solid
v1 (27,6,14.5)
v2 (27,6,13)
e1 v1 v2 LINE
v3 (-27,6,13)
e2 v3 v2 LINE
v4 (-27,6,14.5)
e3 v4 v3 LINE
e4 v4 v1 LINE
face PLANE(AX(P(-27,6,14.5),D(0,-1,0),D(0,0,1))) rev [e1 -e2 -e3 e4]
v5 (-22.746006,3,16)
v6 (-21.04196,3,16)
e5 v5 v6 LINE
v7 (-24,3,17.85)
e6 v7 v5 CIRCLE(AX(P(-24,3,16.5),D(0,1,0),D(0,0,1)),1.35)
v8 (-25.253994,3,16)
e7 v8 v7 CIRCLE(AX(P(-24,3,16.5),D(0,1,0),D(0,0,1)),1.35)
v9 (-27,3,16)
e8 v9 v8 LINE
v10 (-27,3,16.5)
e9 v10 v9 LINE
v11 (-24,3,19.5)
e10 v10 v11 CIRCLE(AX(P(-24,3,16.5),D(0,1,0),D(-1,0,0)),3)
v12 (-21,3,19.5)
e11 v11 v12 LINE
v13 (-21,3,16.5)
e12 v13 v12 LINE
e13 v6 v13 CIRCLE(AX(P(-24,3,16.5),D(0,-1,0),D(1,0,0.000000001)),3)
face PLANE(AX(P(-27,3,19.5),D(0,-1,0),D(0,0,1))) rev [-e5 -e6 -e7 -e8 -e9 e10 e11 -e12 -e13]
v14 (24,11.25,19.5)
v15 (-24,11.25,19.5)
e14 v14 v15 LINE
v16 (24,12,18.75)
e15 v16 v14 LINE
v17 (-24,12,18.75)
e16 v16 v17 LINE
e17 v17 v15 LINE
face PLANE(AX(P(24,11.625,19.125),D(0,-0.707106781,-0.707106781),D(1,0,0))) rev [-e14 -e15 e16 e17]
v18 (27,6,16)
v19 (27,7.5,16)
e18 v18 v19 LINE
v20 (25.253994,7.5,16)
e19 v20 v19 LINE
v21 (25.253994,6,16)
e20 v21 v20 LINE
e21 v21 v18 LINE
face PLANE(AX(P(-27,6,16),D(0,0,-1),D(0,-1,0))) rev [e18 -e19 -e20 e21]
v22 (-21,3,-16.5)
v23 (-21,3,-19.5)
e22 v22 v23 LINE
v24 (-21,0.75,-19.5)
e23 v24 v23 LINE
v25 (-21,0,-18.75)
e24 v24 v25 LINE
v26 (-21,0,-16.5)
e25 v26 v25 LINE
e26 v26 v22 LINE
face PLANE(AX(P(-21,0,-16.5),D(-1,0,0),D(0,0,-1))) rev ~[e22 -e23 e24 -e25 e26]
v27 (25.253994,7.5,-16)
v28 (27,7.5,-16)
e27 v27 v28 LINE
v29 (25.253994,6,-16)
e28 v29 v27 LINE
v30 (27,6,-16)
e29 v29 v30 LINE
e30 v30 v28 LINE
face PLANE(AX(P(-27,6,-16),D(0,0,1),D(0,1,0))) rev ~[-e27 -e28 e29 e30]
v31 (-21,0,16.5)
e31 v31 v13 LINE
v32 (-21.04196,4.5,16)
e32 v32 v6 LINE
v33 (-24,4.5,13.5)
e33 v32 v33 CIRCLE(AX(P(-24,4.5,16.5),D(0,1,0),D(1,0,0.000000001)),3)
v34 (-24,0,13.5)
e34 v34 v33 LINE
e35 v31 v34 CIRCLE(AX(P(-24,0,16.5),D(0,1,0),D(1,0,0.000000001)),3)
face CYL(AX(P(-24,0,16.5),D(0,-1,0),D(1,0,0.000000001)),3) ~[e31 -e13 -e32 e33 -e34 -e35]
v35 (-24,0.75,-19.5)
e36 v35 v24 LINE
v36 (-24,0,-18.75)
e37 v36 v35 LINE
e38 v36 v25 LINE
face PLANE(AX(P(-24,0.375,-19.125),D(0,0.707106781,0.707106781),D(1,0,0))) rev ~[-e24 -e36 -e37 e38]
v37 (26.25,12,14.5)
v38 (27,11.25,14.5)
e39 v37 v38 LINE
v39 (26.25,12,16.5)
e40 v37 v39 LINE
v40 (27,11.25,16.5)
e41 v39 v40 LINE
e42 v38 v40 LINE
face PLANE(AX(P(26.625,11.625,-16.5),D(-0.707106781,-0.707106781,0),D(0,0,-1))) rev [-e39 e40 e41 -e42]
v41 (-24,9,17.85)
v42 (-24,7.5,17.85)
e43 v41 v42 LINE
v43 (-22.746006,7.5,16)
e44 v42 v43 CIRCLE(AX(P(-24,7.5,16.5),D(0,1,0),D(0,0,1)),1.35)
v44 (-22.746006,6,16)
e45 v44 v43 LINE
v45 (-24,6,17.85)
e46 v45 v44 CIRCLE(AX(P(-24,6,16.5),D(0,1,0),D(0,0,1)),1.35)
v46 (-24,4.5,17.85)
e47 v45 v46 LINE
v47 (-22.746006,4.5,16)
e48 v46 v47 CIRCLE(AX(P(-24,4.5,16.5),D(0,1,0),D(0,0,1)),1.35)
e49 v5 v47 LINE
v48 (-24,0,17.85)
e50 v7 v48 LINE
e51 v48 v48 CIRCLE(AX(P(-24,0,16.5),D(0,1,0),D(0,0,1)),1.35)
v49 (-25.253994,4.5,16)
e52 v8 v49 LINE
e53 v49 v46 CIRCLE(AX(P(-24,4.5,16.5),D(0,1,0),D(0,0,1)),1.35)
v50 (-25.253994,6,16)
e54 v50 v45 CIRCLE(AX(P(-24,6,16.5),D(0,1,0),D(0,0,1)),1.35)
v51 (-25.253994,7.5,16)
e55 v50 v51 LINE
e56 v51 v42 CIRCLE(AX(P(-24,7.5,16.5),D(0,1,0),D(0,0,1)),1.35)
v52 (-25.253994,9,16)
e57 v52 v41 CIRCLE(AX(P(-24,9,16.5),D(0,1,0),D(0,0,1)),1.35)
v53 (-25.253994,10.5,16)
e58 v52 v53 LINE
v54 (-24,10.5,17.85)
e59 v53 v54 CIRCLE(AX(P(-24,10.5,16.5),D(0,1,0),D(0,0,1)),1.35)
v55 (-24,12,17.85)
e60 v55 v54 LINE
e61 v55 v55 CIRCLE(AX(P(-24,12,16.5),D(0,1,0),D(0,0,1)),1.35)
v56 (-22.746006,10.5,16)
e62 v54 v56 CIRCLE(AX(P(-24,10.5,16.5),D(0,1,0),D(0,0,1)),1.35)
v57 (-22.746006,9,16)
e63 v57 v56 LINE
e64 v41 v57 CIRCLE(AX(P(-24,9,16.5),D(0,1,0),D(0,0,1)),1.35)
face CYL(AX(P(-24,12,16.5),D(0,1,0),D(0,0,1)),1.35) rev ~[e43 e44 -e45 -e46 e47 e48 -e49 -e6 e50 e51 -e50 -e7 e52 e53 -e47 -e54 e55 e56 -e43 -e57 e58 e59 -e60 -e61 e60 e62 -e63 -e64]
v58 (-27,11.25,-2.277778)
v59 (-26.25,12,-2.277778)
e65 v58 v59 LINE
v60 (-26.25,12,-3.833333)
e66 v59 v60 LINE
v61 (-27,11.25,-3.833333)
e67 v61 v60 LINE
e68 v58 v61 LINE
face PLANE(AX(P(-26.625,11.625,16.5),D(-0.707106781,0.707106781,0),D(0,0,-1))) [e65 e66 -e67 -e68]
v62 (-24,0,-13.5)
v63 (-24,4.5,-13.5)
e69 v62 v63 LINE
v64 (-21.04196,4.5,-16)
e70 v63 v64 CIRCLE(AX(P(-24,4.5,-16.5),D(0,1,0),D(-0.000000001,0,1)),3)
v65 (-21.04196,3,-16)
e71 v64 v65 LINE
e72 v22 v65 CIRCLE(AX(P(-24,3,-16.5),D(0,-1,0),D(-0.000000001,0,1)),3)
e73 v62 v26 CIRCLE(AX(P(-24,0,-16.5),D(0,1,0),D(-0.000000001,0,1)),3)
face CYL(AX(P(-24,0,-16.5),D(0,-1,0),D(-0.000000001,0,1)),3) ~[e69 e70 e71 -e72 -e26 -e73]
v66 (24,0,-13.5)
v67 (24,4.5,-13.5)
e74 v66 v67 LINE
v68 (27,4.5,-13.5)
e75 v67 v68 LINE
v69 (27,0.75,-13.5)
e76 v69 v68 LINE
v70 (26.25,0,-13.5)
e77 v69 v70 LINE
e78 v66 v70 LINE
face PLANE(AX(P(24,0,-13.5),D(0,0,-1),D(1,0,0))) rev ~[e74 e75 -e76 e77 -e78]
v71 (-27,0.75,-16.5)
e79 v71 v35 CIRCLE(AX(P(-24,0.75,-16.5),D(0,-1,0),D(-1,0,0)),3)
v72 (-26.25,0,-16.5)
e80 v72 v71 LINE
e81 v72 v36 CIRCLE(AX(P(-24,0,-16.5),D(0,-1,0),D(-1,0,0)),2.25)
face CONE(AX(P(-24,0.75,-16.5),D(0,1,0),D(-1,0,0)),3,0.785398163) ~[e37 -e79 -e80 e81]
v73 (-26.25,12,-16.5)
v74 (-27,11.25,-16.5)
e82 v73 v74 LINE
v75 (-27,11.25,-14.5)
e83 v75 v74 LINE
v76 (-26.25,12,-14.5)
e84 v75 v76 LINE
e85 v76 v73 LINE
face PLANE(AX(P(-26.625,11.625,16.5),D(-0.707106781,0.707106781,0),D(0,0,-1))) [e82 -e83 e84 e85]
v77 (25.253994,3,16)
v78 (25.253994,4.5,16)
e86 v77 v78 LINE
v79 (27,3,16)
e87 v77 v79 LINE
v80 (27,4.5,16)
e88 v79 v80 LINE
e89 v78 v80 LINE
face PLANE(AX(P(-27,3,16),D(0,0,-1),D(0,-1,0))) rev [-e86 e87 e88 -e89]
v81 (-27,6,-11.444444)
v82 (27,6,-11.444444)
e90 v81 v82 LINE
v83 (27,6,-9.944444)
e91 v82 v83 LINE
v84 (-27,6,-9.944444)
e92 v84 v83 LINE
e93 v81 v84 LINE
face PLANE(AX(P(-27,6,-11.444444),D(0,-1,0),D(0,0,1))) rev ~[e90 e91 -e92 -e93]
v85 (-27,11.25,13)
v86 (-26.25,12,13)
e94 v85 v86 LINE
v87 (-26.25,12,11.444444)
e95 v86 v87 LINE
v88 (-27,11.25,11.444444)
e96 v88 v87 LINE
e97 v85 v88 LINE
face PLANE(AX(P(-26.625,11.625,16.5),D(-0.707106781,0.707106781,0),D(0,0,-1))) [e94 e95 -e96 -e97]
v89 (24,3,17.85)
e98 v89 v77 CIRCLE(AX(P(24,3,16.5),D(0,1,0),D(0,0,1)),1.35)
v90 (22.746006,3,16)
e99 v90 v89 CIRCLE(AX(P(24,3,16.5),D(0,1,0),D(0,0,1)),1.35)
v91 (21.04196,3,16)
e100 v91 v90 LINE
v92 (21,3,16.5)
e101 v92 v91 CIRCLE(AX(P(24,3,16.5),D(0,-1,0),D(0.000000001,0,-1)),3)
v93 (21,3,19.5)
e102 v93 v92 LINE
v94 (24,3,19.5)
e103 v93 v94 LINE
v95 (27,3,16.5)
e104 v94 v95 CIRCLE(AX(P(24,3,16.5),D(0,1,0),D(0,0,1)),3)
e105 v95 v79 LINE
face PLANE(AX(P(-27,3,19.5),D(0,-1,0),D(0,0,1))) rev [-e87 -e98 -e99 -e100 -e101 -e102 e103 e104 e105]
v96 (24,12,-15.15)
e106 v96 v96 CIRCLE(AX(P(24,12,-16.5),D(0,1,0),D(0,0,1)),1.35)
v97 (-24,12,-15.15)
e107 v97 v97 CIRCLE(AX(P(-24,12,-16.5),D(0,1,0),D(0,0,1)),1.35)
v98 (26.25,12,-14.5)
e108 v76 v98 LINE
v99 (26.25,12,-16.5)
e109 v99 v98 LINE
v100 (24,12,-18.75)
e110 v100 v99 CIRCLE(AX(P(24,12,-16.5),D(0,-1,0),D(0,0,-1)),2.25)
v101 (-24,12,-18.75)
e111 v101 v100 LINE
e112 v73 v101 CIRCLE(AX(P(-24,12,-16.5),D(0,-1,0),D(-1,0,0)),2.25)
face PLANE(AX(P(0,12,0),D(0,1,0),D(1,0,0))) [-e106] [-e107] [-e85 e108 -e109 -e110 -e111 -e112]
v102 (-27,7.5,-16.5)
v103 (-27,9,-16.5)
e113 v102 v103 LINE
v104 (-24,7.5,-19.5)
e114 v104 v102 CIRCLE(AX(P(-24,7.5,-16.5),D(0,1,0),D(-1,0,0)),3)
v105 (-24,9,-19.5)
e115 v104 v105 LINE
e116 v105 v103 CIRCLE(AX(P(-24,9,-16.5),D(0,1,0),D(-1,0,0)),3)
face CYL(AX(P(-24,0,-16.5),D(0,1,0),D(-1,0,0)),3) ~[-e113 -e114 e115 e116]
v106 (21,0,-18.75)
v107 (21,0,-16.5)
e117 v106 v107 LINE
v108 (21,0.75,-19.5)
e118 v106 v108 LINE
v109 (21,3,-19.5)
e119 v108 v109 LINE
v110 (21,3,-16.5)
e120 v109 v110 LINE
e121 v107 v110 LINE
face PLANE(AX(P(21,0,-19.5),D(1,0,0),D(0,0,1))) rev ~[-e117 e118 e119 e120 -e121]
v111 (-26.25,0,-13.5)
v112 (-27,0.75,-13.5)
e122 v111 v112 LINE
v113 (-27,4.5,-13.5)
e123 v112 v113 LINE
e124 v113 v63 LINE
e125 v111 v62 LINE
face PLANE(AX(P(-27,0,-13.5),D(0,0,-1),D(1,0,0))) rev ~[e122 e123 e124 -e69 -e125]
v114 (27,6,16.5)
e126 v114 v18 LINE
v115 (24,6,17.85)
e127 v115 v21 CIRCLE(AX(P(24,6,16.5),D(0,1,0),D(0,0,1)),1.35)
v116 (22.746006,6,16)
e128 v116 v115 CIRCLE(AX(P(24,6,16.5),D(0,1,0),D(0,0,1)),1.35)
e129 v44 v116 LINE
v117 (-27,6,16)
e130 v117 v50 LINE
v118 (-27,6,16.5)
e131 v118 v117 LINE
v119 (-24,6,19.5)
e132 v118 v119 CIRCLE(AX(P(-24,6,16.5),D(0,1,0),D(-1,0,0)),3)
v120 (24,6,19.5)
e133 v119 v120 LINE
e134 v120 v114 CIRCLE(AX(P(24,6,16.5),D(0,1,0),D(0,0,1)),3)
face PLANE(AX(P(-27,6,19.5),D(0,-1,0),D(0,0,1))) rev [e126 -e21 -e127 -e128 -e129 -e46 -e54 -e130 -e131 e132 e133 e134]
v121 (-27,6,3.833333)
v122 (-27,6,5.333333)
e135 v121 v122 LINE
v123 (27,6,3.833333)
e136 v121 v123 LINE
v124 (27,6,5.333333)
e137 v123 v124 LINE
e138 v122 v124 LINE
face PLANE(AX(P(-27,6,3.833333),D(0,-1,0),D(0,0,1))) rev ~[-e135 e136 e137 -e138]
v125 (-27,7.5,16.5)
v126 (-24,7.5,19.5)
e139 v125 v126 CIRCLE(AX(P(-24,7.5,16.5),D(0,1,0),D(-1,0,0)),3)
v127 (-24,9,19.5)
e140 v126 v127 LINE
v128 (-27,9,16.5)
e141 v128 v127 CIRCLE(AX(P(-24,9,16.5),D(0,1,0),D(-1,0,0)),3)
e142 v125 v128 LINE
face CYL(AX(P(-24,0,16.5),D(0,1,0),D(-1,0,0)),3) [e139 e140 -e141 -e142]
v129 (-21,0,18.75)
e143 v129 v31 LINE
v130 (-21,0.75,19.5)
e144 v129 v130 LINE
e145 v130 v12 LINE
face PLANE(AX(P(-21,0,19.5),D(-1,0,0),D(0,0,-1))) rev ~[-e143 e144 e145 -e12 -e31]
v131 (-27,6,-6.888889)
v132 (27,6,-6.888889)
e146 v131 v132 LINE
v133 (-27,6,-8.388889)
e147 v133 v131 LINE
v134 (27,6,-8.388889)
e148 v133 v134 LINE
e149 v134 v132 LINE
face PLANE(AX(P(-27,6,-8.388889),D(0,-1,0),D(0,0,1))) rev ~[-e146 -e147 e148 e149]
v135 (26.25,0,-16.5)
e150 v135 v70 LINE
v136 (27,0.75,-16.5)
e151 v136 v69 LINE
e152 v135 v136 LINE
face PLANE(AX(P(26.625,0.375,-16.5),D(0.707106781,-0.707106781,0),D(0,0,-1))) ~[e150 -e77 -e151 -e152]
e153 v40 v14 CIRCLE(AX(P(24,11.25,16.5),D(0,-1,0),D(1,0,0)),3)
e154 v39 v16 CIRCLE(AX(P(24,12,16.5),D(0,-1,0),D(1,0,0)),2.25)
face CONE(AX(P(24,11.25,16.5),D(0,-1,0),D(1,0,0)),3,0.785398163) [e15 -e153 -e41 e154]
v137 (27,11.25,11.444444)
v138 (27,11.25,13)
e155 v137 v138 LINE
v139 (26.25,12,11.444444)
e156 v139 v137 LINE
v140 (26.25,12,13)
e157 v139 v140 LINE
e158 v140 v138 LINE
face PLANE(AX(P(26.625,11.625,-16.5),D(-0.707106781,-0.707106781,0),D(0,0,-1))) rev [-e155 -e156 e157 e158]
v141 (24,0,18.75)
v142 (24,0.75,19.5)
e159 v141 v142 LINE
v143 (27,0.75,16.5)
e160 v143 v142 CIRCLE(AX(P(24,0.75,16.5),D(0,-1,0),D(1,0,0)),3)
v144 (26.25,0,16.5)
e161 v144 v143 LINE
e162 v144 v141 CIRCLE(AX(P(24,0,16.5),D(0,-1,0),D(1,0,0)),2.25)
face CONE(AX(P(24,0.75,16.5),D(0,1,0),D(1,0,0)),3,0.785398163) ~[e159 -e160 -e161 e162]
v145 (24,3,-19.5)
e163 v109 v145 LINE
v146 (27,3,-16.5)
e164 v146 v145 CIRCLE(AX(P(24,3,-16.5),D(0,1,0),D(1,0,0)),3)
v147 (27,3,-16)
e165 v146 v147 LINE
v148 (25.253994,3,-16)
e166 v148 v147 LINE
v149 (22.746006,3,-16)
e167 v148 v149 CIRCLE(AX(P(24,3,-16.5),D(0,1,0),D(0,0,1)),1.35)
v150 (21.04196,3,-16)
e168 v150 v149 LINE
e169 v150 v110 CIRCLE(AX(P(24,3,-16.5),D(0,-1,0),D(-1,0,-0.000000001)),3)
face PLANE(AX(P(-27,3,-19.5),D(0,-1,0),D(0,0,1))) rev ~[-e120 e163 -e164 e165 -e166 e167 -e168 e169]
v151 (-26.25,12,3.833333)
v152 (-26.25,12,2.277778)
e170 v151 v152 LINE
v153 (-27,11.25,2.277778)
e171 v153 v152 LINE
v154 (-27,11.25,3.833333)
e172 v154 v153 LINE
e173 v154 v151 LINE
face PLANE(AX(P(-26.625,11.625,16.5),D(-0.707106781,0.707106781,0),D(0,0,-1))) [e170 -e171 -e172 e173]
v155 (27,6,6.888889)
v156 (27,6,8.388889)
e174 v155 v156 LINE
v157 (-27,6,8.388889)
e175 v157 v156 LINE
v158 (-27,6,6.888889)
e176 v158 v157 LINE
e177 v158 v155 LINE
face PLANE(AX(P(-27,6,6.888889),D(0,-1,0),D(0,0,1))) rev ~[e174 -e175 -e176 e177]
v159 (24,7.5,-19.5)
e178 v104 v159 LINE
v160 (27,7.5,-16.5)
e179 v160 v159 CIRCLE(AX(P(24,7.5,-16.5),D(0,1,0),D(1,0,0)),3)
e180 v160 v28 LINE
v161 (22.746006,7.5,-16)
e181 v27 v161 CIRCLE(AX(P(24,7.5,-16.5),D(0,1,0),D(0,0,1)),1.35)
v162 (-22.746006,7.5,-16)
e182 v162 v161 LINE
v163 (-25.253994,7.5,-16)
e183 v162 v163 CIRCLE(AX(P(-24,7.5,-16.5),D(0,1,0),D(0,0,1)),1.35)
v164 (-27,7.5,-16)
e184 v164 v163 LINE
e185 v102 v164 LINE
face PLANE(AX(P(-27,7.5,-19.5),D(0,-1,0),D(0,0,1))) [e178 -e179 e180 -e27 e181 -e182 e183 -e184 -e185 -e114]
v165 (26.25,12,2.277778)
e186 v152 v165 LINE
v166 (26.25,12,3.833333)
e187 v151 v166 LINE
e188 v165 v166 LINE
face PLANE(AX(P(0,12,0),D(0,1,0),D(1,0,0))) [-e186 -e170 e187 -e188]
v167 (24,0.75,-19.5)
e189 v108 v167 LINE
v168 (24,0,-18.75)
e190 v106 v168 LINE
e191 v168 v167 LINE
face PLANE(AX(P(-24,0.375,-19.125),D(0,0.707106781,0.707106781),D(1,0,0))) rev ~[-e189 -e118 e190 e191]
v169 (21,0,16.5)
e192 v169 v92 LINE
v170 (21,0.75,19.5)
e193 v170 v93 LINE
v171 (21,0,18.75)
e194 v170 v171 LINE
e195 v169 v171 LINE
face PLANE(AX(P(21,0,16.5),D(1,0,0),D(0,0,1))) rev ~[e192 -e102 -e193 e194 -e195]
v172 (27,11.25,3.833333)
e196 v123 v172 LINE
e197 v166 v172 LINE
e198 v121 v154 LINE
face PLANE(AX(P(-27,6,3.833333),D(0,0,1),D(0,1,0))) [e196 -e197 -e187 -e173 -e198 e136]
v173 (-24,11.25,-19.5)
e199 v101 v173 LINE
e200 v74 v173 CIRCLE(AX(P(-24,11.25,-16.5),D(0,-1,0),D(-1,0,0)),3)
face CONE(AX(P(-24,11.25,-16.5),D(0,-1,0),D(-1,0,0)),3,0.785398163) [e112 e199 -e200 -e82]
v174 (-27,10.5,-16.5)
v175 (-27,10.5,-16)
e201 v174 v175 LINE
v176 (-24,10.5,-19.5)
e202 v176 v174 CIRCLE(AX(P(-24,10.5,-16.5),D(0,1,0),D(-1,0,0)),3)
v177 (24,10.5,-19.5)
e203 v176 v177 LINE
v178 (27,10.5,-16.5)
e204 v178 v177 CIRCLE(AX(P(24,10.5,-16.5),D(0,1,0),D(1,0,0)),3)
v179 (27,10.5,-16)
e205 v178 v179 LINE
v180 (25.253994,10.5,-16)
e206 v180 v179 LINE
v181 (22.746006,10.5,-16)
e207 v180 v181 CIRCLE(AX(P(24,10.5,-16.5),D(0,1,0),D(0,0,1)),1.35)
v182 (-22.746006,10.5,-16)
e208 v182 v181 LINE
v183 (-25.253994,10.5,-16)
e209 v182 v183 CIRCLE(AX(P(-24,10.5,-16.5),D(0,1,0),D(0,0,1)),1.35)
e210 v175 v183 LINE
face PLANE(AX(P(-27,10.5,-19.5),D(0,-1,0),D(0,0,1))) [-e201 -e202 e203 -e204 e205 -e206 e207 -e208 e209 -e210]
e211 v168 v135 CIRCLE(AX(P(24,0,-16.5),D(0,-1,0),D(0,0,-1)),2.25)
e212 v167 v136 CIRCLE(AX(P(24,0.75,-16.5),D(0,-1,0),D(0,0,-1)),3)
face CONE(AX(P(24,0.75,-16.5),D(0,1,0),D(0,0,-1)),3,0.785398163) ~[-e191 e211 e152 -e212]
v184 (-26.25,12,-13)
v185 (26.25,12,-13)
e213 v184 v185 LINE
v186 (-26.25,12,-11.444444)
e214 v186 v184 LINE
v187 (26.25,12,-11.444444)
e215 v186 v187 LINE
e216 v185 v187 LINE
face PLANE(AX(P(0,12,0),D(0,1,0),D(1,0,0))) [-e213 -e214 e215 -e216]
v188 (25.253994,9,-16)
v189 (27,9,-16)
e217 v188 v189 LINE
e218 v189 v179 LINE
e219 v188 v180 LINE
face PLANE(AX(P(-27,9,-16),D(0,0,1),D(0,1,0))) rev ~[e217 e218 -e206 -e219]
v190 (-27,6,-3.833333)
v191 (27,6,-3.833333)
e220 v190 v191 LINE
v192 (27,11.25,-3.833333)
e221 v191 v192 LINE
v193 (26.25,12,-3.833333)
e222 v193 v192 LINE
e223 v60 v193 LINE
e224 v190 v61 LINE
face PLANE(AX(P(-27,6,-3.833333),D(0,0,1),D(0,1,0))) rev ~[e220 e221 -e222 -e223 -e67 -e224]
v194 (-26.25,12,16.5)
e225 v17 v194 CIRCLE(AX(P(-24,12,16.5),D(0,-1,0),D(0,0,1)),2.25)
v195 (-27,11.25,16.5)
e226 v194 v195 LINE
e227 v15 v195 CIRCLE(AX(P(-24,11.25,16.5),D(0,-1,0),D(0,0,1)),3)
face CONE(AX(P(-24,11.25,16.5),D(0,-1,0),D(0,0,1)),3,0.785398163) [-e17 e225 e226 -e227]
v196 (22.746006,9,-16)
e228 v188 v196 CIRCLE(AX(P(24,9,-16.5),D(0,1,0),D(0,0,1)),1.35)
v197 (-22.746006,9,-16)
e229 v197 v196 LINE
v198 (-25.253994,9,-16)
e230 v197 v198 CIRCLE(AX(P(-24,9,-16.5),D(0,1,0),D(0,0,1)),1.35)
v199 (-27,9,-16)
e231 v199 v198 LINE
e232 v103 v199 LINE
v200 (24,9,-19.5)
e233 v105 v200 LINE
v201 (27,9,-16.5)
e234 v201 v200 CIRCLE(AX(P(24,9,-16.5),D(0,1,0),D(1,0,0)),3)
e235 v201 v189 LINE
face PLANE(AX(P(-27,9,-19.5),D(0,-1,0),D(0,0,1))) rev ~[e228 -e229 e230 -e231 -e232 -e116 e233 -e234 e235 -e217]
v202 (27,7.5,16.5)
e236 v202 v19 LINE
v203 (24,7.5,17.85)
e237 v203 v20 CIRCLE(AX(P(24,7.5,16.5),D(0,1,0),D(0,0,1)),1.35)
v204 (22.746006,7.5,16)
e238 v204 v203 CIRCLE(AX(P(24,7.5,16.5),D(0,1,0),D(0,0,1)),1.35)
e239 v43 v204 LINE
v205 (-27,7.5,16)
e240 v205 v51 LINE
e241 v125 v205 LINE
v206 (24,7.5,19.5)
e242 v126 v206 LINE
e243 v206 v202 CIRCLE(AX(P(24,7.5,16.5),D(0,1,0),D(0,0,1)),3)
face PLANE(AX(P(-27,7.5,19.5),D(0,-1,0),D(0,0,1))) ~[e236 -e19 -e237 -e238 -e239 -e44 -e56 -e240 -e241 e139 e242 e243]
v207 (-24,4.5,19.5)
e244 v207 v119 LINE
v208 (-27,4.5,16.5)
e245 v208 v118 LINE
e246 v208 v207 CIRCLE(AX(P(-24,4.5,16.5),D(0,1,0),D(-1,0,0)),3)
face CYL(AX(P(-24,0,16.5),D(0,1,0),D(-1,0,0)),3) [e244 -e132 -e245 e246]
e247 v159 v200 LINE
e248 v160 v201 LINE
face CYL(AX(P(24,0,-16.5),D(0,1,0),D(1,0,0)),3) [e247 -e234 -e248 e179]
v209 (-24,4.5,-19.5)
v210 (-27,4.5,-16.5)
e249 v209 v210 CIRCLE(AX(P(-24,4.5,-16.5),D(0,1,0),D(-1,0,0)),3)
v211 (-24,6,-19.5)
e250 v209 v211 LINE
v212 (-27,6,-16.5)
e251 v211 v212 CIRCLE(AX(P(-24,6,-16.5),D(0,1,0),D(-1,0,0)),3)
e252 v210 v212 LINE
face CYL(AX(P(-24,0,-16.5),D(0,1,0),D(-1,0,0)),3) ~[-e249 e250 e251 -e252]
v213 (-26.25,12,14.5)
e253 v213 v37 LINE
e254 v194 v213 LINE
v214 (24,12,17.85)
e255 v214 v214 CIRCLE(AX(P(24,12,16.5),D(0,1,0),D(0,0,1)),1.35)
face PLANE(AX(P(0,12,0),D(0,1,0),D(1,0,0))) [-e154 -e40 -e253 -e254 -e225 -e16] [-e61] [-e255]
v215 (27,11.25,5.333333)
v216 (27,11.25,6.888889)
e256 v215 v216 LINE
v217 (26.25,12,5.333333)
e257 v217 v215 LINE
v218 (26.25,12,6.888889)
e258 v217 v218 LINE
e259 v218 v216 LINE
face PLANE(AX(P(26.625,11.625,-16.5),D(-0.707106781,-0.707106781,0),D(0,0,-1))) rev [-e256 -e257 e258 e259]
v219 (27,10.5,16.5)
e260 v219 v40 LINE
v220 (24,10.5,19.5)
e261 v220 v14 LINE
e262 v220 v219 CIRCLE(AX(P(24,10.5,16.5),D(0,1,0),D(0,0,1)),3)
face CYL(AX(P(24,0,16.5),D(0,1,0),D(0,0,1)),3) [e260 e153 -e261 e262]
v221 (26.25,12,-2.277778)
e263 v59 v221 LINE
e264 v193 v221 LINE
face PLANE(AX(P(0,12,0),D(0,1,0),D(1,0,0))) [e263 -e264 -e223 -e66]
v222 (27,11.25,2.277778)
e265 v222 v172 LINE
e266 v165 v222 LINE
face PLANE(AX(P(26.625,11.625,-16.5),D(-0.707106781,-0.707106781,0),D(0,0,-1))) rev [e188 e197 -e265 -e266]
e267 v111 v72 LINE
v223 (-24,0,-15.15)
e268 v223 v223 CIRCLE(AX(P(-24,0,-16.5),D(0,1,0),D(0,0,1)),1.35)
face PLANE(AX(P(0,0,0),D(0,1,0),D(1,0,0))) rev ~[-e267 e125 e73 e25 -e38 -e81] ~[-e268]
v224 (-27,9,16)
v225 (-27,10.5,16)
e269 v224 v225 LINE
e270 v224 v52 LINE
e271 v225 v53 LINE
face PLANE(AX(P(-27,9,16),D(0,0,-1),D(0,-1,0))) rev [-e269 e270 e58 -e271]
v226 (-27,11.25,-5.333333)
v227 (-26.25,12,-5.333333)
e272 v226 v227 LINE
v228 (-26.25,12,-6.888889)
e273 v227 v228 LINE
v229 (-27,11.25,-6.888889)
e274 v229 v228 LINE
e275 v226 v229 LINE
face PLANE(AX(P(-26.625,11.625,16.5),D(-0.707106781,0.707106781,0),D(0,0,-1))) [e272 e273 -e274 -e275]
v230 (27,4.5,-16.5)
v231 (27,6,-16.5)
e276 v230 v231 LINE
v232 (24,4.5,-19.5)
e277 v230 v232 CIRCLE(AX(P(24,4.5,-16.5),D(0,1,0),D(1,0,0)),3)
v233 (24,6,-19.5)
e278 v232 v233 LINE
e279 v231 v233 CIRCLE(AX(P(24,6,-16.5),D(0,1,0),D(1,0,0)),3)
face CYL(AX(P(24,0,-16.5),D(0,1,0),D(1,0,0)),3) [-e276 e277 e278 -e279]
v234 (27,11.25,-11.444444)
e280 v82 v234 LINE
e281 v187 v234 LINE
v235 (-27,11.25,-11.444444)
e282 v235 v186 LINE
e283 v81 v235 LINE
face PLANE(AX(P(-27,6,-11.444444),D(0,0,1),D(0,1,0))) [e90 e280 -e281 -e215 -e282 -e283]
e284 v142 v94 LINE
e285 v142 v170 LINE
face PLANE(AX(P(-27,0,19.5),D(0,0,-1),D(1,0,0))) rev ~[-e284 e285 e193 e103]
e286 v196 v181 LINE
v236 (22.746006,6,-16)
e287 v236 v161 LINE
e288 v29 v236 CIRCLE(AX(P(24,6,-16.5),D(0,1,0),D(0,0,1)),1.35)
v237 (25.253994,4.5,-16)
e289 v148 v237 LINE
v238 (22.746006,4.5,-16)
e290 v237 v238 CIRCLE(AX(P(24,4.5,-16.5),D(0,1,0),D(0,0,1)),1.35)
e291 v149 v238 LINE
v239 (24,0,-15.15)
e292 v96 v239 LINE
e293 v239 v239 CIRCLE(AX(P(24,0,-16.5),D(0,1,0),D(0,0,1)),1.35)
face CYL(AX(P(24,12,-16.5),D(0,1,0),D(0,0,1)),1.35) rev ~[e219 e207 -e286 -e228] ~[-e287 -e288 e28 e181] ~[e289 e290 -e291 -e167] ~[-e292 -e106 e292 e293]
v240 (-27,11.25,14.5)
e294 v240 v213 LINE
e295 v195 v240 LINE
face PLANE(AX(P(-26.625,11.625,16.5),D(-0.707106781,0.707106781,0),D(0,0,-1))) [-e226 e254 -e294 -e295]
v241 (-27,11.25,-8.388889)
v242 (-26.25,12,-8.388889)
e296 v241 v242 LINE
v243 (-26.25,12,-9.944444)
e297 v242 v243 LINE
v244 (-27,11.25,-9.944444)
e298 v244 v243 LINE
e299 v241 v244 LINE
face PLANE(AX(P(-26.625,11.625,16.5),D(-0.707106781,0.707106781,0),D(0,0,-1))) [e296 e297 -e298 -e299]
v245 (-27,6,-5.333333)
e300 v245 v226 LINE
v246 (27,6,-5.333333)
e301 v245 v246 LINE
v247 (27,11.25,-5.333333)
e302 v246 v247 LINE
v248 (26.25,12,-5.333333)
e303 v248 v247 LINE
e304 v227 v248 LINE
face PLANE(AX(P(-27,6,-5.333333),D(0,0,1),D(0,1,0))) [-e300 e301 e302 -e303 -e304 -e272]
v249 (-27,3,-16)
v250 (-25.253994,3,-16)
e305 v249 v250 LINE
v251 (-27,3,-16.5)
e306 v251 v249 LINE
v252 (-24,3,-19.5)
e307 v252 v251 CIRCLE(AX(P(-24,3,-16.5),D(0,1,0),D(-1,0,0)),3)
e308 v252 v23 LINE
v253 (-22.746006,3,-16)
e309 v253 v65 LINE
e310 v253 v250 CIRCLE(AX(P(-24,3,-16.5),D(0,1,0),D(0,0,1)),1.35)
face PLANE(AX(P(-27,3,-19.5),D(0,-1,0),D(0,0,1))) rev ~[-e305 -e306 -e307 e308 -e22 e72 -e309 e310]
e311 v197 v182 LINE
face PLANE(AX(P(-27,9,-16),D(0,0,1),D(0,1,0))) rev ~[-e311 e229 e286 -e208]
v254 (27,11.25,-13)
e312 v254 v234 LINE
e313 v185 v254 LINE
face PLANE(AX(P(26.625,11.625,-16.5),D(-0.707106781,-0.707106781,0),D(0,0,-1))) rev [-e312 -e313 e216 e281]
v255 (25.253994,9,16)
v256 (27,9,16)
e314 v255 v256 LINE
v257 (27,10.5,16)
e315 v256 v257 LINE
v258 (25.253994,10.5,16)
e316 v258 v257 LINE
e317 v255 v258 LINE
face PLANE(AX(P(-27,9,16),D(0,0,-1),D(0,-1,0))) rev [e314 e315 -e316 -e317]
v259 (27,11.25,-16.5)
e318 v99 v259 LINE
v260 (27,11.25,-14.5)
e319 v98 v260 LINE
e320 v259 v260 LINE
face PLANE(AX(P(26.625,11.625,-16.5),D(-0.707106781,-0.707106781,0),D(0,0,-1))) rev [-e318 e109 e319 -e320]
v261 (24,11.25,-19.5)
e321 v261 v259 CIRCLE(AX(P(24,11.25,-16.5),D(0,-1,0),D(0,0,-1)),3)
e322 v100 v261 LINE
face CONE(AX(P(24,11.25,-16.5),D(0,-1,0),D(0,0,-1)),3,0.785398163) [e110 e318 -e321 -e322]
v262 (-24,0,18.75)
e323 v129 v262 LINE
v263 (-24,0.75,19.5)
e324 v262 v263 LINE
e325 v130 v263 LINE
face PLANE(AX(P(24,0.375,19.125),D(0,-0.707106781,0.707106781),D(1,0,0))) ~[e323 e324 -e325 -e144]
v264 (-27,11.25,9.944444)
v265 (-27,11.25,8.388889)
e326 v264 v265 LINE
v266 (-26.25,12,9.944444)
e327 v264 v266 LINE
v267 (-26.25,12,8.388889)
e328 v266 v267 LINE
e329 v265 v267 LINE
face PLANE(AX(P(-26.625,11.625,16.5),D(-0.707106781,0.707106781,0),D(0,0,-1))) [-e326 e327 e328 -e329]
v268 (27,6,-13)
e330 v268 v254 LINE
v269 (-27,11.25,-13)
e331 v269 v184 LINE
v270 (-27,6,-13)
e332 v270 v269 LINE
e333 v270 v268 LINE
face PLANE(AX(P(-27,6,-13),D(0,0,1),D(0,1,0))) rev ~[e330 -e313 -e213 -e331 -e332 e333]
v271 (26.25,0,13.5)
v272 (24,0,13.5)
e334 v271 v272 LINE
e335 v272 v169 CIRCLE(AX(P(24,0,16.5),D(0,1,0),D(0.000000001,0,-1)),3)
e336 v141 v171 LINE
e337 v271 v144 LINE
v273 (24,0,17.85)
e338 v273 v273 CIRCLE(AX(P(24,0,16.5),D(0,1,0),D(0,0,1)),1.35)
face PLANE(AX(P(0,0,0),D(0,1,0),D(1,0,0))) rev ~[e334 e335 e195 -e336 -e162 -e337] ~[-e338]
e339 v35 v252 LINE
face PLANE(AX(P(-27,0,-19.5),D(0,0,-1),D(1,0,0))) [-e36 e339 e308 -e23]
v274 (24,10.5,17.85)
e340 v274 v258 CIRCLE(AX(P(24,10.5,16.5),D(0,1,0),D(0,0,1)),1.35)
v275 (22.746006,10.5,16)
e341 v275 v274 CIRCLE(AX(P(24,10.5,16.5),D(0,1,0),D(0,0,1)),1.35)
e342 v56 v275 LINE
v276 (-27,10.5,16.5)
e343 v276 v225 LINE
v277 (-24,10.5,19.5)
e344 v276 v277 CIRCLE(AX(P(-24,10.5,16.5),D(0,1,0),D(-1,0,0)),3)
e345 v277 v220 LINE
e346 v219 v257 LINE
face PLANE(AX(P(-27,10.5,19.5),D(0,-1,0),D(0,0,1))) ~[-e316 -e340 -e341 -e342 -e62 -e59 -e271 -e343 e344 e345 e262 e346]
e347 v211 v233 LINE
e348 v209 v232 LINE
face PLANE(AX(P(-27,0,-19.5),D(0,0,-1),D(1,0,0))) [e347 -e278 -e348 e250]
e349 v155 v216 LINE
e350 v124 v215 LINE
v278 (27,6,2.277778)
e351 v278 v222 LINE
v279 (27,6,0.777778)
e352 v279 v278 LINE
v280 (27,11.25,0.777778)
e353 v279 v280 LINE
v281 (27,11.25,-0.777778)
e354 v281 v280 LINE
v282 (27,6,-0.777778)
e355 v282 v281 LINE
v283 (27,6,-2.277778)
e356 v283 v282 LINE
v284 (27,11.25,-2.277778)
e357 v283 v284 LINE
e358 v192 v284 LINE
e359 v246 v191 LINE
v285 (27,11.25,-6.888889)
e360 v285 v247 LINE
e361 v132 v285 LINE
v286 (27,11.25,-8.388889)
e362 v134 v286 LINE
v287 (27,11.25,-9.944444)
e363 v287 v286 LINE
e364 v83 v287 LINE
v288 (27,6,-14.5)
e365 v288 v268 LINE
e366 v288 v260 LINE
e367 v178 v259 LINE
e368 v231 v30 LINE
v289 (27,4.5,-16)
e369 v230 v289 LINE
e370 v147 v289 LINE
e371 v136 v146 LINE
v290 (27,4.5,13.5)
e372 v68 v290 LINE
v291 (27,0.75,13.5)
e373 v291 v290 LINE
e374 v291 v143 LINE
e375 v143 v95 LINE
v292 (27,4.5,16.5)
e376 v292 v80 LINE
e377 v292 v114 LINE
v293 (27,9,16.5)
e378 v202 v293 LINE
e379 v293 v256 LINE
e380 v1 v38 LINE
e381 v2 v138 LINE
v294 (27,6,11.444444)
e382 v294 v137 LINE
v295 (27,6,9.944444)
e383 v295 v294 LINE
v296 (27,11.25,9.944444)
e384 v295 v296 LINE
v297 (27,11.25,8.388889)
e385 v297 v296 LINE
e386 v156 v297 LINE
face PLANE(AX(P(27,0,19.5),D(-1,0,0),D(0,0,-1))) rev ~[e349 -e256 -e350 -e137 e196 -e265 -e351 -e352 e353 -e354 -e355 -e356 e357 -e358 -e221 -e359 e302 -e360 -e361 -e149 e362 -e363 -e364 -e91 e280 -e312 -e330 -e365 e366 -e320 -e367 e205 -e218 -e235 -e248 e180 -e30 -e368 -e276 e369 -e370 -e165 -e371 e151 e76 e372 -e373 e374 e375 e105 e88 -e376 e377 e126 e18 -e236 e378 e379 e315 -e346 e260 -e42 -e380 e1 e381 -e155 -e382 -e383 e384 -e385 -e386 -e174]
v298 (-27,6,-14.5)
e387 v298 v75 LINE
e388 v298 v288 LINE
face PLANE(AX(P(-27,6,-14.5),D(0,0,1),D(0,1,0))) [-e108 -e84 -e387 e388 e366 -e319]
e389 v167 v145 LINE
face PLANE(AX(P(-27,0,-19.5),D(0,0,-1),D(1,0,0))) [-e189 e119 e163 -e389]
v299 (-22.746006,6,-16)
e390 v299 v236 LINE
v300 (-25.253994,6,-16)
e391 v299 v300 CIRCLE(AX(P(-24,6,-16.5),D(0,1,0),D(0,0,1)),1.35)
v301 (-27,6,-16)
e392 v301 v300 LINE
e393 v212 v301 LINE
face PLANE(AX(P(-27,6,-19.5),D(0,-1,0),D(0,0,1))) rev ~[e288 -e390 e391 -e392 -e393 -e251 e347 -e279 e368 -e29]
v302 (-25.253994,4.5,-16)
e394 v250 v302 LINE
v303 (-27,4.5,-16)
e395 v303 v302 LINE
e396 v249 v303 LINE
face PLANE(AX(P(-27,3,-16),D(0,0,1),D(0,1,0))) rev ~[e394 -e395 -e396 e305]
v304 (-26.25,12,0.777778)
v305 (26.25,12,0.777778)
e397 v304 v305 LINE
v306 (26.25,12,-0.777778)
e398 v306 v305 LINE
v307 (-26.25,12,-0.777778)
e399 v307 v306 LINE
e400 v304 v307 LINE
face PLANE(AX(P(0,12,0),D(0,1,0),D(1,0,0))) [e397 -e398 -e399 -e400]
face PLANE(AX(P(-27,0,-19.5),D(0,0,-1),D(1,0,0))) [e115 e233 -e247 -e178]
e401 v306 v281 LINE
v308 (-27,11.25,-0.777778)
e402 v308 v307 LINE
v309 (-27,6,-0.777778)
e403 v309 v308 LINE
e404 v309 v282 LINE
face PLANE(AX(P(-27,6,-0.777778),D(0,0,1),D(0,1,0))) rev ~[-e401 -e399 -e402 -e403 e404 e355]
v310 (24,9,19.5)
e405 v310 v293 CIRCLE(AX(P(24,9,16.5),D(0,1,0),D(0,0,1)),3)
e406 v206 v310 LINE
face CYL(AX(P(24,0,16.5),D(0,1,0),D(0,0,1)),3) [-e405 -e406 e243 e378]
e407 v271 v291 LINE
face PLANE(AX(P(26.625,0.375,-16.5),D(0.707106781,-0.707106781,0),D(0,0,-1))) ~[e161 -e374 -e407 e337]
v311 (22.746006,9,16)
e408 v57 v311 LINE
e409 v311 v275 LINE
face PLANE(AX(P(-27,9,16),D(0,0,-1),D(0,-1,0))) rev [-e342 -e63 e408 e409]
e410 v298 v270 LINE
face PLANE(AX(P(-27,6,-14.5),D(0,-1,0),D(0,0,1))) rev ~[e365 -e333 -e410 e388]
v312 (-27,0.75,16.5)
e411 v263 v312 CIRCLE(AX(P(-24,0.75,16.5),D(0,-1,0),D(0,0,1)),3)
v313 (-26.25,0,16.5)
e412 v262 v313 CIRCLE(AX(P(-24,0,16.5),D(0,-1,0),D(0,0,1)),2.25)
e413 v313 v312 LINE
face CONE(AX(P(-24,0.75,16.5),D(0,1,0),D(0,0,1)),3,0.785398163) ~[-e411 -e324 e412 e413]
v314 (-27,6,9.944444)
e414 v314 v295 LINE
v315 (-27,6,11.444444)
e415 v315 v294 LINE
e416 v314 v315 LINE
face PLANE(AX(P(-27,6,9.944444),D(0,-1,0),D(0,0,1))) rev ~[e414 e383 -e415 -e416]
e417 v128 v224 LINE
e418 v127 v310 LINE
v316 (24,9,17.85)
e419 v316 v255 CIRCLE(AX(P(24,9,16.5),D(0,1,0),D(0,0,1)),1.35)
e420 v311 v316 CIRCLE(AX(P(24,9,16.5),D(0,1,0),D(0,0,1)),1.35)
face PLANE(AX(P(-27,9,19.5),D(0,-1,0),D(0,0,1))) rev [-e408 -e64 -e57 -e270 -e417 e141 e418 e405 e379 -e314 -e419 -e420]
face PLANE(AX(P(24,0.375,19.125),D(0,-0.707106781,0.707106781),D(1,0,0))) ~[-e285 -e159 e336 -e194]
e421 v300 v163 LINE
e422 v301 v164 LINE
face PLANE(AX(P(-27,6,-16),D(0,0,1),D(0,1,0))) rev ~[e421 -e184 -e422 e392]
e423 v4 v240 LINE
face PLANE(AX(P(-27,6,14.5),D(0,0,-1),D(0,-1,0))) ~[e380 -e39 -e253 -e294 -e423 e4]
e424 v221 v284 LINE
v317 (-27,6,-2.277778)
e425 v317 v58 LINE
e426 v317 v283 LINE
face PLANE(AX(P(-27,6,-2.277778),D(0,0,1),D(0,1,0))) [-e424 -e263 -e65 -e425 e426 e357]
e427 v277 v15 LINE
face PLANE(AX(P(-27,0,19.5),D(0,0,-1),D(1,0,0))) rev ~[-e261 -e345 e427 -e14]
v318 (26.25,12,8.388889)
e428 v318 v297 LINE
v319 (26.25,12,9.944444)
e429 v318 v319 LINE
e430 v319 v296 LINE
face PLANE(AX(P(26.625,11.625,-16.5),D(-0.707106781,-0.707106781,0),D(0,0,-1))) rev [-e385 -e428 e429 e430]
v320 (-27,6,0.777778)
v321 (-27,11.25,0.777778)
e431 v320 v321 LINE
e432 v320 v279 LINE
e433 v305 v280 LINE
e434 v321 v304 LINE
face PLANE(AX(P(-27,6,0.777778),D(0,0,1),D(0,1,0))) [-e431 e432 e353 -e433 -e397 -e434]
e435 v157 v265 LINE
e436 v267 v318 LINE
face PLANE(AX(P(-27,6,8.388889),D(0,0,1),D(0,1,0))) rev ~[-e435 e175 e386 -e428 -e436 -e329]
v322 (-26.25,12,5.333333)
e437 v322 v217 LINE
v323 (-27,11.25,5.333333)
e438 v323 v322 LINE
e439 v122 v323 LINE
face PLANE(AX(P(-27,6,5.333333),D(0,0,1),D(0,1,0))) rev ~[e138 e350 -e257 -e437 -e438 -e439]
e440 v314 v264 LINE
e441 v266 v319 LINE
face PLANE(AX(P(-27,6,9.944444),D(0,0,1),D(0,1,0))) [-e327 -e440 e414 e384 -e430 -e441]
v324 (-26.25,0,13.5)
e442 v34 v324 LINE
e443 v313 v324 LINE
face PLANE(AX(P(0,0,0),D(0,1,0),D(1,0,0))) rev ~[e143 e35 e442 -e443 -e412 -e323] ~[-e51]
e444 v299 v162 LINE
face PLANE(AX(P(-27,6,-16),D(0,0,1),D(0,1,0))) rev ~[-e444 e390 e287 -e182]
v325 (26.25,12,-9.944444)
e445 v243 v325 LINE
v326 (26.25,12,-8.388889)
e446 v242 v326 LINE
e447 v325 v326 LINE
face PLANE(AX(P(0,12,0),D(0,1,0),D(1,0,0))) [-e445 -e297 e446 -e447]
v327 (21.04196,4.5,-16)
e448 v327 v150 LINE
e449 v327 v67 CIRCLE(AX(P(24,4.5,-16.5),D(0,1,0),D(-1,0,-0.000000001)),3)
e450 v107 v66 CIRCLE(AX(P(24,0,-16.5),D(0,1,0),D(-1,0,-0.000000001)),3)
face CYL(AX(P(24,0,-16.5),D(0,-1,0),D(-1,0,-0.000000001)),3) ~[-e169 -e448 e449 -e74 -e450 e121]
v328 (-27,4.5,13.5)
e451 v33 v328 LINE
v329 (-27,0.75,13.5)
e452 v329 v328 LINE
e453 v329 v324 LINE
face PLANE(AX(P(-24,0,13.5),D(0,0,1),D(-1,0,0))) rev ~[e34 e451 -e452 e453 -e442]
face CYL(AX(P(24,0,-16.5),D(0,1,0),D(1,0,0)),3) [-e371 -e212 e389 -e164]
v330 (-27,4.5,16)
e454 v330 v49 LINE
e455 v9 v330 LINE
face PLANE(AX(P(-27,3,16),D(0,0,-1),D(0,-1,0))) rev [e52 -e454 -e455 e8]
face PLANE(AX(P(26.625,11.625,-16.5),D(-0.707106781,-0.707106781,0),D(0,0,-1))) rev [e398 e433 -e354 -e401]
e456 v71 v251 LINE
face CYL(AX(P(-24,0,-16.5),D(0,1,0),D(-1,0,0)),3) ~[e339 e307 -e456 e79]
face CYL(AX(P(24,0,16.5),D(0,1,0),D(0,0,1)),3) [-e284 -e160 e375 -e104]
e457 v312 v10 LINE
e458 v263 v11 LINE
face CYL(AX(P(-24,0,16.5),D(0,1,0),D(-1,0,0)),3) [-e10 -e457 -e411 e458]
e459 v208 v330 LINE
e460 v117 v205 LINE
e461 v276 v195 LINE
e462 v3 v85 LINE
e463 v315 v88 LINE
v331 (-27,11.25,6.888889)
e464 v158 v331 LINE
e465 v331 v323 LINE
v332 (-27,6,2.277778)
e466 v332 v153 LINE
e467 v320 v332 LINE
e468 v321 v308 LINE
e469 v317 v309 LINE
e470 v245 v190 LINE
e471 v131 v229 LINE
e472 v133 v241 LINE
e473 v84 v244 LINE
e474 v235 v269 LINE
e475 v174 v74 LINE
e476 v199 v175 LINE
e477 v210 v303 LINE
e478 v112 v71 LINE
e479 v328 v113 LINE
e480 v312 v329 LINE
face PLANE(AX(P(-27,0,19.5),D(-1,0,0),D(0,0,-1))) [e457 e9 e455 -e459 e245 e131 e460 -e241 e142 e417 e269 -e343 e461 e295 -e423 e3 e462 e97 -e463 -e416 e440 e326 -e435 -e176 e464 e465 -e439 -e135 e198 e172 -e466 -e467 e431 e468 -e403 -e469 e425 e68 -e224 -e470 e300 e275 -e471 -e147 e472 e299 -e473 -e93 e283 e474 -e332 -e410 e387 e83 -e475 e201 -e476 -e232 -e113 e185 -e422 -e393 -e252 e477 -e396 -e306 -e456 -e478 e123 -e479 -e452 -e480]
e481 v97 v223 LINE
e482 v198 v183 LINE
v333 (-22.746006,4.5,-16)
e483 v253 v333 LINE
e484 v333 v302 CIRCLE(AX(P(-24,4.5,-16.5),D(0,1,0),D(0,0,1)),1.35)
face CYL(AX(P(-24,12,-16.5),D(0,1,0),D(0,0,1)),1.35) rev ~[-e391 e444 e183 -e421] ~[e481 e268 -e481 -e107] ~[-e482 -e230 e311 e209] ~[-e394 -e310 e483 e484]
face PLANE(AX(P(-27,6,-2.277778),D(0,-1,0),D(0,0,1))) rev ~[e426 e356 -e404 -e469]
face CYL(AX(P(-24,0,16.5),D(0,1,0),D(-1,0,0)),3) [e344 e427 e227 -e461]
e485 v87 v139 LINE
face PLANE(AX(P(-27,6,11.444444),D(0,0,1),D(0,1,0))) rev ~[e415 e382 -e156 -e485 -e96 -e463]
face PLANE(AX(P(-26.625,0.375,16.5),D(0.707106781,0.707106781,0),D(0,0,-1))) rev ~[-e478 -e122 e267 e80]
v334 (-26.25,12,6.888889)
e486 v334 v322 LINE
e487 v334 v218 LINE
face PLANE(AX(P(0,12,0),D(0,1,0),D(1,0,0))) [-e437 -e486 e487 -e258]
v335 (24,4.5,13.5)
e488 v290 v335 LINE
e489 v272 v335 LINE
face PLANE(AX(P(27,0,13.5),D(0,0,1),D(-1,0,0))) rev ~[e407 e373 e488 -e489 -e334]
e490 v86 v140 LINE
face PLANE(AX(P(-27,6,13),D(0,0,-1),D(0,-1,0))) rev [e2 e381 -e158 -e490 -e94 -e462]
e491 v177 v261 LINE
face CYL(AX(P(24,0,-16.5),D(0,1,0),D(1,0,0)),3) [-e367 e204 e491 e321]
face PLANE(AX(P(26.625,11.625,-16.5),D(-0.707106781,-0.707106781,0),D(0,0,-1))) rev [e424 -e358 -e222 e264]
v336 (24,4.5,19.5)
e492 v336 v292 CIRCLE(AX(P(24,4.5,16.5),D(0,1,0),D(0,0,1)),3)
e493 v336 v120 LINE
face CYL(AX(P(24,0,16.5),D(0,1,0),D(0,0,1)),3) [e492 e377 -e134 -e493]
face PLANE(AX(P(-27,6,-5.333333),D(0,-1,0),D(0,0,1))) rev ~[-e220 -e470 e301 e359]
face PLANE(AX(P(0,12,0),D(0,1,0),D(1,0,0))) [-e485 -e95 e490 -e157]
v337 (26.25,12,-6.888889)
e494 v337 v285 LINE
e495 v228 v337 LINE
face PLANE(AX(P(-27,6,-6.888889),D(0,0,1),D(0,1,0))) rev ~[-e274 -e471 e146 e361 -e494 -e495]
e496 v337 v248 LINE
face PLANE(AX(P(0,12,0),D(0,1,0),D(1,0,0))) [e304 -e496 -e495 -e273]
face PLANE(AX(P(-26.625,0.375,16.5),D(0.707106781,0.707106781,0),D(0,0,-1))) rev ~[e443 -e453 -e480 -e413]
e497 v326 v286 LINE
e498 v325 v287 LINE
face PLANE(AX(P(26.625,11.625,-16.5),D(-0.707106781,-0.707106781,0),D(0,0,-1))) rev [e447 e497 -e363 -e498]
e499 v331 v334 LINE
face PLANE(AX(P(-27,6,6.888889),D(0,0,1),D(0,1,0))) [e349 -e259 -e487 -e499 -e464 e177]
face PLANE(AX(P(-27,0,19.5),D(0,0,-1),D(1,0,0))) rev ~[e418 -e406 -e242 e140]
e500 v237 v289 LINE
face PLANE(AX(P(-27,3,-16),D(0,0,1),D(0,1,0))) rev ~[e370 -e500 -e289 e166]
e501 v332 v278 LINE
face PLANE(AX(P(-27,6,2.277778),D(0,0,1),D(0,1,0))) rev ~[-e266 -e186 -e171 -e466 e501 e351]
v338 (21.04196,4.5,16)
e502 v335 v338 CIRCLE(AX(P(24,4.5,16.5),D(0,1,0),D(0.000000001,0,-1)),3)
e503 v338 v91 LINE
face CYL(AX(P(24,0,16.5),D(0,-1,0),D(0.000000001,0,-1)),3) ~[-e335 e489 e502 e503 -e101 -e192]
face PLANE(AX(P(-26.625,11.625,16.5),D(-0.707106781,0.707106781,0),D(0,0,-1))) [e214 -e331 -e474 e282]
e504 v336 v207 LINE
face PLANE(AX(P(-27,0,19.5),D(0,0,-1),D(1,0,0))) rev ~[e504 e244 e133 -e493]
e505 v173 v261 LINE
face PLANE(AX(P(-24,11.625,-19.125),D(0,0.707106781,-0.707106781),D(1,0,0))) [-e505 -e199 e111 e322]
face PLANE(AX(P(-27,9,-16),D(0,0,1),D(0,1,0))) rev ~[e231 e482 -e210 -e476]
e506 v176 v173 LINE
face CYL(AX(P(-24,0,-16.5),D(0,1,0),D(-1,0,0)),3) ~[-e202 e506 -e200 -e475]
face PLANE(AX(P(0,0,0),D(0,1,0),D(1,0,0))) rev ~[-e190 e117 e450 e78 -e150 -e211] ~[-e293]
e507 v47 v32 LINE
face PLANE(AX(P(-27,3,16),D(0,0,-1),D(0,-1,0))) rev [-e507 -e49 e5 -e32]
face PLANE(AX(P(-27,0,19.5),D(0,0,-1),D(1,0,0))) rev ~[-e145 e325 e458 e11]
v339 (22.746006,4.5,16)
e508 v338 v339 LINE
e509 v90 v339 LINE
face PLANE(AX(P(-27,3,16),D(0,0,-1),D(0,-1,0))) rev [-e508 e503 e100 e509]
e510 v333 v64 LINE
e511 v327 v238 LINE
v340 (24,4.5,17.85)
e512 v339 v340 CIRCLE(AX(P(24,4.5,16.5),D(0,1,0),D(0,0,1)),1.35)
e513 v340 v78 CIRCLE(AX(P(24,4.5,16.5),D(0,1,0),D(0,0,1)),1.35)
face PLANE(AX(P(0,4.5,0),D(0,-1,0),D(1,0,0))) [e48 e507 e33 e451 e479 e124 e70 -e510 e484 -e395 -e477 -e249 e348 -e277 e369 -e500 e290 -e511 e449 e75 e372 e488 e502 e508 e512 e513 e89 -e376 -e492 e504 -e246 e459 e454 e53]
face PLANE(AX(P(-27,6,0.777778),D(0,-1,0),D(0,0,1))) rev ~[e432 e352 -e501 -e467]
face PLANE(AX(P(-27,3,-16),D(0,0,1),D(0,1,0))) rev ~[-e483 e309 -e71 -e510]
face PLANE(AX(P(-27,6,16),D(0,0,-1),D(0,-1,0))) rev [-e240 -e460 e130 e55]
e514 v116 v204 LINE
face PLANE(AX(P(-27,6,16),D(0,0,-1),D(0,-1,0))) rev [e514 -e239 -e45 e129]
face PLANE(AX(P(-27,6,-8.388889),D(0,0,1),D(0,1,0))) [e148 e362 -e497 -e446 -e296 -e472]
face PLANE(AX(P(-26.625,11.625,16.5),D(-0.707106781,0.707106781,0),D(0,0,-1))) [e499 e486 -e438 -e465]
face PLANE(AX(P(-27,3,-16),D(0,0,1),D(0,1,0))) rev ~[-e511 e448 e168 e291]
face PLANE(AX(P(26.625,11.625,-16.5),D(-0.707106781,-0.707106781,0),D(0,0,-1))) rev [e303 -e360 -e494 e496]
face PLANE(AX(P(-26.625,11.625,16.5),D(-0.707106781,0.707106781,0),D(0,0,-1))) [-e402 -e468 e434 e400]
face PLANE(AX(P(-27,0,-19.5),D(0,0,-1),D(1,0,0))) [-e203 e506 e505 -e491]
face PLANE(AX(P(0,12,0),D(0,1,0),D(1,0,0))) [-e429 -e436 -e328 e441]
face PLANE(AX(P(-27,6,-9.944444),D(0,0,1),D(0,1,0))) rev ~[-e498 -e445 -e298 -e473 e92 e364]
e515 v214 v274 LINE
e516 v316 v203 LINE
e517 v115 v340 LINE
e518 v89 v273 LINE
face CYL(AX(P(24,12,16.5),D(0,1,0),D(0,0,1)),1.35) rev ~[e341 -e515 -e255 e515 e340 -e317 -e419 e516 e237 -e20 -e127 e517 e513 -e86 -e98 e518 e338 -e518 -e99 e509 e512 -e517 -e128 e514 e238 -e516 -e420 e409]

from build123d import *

# Parameters (mm, degrees)
ESQUISSE1_W                = 54
ESQUISSE1_H                = 39
BOSS_EXTRU_1_DEPTH         = 12
CONG_1_R                   = 3
CHANFREIN1_SIZE            = 0.75
ESQUISSE2_W                = 1.5
ESQUISSE2_H                = 6
ENL_V_MAT_EXTRU_1_DEPTH    = 55
ESQUISSE3_W                = 3.5
ESQUISSE3_H                = 1.5
ENL_V_MAT_EXTRU_2_DEPTH    = 55
R_P_TITION_LIN_AIRE1_COUNT = 10
R_P_TITION_LIN_AIRE1_PITCH = 3.055555556
ESQUISSE4_R                = 1.35
ENL_V_MAT_EXTRU_3_DEPTH    = 13
ENL_V_MAT_EXTRU_4_DEPTH    = 4.5


with BuildPart() as part:
    # Esquisse1 → Boss.-Extru.1 (new body)
    with BuildSketch(Plane(origin=(0, 0, 0), x_dir=(1, 0, 0), z_dir=(0, 1, 0))):
        Rectangle(ESQUISSE1_W, ESQUISSE1_H)
    extrude(amount=BOSS_EXTRU_1_DEPTH)

    # Congé1
    cong_1_edges = [part.edges().sort_by_distance(p)[0] for p in [
        (27, 6, 19.5),
        (-27, 6, 19.5),
        (-27, 6, -19.5),
        (27, 6, -19.5),
    ]]
    fillet(cong_1_edges, radius=CONG_1_R)

    # Chanfrein1
    chanfrein1_edges = [part.edges().sort_by_distance(p)[0] for p in [
        (0, 0, -19.5),
        (0, 12, -19.5),
        (27, 0, 0),
        (0, 0, 19.5),
        (-27, 0, 0),
        (-26.121320344, 0, 18.621320344),
        (-26.121320344, 0, -18.621320344),
        (26.121320344, 0, 18.621320344),
        (26.121320344, 0, -18.621320344),
        (27, 12, 0),
        (-27, 12, 0),
        (0, 12, 19.5),
        (-26.121320344, 12, 18.621320344),
        (-26.121320344, 12, -18.621320344),
        (26.121320344, 12, 18.621320344),
        (26.121320344, 12, -18.621320344),
    ]]
    chamfer(chanfrein1_edges, length=CHANFREIN1_SIZE)

    # Esquisse2 → Enlèv. mat.-Extru.1 (cut, through all)
    with BuildSketch(Plane.ZY.offset(27)):
        with Locations((-13.75, 9)):
            Rectangle(ESQUISSE2_W, ESQUISSE2_H)
    enl_v_mat_extru_1 = extrude(amount=-ENL_V_MAT_EXTRU_1_DEPTH, mode=Mode.SUBTRACT)

    # Esquisse3 → Enlèv. mat.-Extru.2 (cut, through all)
    with BuildSketch(Plane.ZY.offset(27)):
        with Locations((-17.75, 9.75)):
            Rectangle(ESQUISSE3_W, ESQUISSE3_H)
        with Locations((-17.75, 6.75)):
            Rectangle(ESQUISSE3_W, ESQUISSE3_H)
        with Locations((-17.75, 3.75)):
            Rectangle(ESQUISSE3_W, ESQUISSE3_H)
    enl_v_mat_extru_2 = extrude(amount=-ENL_V_MAT_EXTRU_2_DEPTH, mode=Mode.SUBTRACT)

    # Symétrie1: Enlèv. mat.-Extru.1, Enlèv. mat.-Extru.2 across plane
    add(enl_v_mat_extru_1.mirror(Plane.XY), mode=Mode.SUBTRACT)
    add(enl_v_mat_extru_2.mirror(Plane.XY), mode=Mode.SUBTRACT)

    # Répétition linéaire1: Enlèv. mat.-Extru.1 ×10
    with Locations(*[(0, 0, i * R_P_TITION_LIN_AIRE1_PITCH) for i in range(1, R_P_TITION_LIN_AIRE1_COUNT)]):
        add(enl_v_mat_extru_1, mode=Mode.SUBTRACT)

    # Esquisse4 → Enlèv. mat.-Extru.3 (cut, through all)
    with BuildSketch(Plane(origin=(0, 12, 0), x_dir=(1, 0, 0), z_dir=(0, 1, 0))):
        with Locations(Location((-24, 16.5, 0), (0, 0, 270))):  # turned: the seam where the file's is
            Circle(ESQUISSE4_R)
        with Locations(Location((24, 16.5, 0), (0, 0, 270))):  # turned: the seam where the file's is
            Circle(ESQUISSE4_R)
        with Locations(Location((24, -16.5, 0), (0, 0, 270))):  # turned: the seam where the file's is
            Circle(ESQUISSE4_R)
        with Locations(Location((-24, -16.5, 0), (0, 0, 270))):  # turned: the seam where the file's is
            Circle(ESQUISSE4_R)
    extrude(amount=-ENL_V_MAT_EXTRU_3_DEPTH, mode=Mode.SUBTRACT)

    # Esquisse5 → Enlèv. mat.-Extru.4 (cut)
    with BuildSketch(Plane.XZ):
        with BuildLine():
            Line((-24, 13.5), (-27, 13.5))
            Line((-27, 13.5), (-27, -13.5))
            Line((-27, -13.5), (-24, -13.5))
            ThreePointArc((-24, -13.5), (-21.878679656, -14.378679656), (-21, -16.5))
            Line((-21, -16.5), (-21, -19.5))
            Line((-21, -19.5), (21, -19.5))
            Line((21, -19.5), (21, -16.5))
            ThreePointArc((21, -16.5), (21.878679656, -14.378679656), (24, -13.5))
            Line((24, -13.5), (27, -13.5))
            Line((27, -13.5), (27, 13.5))
            Line((27, 13.5), (24, 13.5))
            ThreePointArc((24, 13.5), (21.878679656, 14.378679656), (21, 16.5))
            Line((21, 16.5), (21, 19.5))
            Line((21, 19.5), (-21, 19.5))
            Line((-21, 19.5), (-21, 16.5))
            ThreePointArc((-21, 16.5), (-21.878679656, 14.378679656), (-24, 13.5))
        make_face()
    extrude(amount=-ENL_V_MAT_EXTRU_4_DEPTH, mode=Mode.SUBTRACT)


solid = part.part
